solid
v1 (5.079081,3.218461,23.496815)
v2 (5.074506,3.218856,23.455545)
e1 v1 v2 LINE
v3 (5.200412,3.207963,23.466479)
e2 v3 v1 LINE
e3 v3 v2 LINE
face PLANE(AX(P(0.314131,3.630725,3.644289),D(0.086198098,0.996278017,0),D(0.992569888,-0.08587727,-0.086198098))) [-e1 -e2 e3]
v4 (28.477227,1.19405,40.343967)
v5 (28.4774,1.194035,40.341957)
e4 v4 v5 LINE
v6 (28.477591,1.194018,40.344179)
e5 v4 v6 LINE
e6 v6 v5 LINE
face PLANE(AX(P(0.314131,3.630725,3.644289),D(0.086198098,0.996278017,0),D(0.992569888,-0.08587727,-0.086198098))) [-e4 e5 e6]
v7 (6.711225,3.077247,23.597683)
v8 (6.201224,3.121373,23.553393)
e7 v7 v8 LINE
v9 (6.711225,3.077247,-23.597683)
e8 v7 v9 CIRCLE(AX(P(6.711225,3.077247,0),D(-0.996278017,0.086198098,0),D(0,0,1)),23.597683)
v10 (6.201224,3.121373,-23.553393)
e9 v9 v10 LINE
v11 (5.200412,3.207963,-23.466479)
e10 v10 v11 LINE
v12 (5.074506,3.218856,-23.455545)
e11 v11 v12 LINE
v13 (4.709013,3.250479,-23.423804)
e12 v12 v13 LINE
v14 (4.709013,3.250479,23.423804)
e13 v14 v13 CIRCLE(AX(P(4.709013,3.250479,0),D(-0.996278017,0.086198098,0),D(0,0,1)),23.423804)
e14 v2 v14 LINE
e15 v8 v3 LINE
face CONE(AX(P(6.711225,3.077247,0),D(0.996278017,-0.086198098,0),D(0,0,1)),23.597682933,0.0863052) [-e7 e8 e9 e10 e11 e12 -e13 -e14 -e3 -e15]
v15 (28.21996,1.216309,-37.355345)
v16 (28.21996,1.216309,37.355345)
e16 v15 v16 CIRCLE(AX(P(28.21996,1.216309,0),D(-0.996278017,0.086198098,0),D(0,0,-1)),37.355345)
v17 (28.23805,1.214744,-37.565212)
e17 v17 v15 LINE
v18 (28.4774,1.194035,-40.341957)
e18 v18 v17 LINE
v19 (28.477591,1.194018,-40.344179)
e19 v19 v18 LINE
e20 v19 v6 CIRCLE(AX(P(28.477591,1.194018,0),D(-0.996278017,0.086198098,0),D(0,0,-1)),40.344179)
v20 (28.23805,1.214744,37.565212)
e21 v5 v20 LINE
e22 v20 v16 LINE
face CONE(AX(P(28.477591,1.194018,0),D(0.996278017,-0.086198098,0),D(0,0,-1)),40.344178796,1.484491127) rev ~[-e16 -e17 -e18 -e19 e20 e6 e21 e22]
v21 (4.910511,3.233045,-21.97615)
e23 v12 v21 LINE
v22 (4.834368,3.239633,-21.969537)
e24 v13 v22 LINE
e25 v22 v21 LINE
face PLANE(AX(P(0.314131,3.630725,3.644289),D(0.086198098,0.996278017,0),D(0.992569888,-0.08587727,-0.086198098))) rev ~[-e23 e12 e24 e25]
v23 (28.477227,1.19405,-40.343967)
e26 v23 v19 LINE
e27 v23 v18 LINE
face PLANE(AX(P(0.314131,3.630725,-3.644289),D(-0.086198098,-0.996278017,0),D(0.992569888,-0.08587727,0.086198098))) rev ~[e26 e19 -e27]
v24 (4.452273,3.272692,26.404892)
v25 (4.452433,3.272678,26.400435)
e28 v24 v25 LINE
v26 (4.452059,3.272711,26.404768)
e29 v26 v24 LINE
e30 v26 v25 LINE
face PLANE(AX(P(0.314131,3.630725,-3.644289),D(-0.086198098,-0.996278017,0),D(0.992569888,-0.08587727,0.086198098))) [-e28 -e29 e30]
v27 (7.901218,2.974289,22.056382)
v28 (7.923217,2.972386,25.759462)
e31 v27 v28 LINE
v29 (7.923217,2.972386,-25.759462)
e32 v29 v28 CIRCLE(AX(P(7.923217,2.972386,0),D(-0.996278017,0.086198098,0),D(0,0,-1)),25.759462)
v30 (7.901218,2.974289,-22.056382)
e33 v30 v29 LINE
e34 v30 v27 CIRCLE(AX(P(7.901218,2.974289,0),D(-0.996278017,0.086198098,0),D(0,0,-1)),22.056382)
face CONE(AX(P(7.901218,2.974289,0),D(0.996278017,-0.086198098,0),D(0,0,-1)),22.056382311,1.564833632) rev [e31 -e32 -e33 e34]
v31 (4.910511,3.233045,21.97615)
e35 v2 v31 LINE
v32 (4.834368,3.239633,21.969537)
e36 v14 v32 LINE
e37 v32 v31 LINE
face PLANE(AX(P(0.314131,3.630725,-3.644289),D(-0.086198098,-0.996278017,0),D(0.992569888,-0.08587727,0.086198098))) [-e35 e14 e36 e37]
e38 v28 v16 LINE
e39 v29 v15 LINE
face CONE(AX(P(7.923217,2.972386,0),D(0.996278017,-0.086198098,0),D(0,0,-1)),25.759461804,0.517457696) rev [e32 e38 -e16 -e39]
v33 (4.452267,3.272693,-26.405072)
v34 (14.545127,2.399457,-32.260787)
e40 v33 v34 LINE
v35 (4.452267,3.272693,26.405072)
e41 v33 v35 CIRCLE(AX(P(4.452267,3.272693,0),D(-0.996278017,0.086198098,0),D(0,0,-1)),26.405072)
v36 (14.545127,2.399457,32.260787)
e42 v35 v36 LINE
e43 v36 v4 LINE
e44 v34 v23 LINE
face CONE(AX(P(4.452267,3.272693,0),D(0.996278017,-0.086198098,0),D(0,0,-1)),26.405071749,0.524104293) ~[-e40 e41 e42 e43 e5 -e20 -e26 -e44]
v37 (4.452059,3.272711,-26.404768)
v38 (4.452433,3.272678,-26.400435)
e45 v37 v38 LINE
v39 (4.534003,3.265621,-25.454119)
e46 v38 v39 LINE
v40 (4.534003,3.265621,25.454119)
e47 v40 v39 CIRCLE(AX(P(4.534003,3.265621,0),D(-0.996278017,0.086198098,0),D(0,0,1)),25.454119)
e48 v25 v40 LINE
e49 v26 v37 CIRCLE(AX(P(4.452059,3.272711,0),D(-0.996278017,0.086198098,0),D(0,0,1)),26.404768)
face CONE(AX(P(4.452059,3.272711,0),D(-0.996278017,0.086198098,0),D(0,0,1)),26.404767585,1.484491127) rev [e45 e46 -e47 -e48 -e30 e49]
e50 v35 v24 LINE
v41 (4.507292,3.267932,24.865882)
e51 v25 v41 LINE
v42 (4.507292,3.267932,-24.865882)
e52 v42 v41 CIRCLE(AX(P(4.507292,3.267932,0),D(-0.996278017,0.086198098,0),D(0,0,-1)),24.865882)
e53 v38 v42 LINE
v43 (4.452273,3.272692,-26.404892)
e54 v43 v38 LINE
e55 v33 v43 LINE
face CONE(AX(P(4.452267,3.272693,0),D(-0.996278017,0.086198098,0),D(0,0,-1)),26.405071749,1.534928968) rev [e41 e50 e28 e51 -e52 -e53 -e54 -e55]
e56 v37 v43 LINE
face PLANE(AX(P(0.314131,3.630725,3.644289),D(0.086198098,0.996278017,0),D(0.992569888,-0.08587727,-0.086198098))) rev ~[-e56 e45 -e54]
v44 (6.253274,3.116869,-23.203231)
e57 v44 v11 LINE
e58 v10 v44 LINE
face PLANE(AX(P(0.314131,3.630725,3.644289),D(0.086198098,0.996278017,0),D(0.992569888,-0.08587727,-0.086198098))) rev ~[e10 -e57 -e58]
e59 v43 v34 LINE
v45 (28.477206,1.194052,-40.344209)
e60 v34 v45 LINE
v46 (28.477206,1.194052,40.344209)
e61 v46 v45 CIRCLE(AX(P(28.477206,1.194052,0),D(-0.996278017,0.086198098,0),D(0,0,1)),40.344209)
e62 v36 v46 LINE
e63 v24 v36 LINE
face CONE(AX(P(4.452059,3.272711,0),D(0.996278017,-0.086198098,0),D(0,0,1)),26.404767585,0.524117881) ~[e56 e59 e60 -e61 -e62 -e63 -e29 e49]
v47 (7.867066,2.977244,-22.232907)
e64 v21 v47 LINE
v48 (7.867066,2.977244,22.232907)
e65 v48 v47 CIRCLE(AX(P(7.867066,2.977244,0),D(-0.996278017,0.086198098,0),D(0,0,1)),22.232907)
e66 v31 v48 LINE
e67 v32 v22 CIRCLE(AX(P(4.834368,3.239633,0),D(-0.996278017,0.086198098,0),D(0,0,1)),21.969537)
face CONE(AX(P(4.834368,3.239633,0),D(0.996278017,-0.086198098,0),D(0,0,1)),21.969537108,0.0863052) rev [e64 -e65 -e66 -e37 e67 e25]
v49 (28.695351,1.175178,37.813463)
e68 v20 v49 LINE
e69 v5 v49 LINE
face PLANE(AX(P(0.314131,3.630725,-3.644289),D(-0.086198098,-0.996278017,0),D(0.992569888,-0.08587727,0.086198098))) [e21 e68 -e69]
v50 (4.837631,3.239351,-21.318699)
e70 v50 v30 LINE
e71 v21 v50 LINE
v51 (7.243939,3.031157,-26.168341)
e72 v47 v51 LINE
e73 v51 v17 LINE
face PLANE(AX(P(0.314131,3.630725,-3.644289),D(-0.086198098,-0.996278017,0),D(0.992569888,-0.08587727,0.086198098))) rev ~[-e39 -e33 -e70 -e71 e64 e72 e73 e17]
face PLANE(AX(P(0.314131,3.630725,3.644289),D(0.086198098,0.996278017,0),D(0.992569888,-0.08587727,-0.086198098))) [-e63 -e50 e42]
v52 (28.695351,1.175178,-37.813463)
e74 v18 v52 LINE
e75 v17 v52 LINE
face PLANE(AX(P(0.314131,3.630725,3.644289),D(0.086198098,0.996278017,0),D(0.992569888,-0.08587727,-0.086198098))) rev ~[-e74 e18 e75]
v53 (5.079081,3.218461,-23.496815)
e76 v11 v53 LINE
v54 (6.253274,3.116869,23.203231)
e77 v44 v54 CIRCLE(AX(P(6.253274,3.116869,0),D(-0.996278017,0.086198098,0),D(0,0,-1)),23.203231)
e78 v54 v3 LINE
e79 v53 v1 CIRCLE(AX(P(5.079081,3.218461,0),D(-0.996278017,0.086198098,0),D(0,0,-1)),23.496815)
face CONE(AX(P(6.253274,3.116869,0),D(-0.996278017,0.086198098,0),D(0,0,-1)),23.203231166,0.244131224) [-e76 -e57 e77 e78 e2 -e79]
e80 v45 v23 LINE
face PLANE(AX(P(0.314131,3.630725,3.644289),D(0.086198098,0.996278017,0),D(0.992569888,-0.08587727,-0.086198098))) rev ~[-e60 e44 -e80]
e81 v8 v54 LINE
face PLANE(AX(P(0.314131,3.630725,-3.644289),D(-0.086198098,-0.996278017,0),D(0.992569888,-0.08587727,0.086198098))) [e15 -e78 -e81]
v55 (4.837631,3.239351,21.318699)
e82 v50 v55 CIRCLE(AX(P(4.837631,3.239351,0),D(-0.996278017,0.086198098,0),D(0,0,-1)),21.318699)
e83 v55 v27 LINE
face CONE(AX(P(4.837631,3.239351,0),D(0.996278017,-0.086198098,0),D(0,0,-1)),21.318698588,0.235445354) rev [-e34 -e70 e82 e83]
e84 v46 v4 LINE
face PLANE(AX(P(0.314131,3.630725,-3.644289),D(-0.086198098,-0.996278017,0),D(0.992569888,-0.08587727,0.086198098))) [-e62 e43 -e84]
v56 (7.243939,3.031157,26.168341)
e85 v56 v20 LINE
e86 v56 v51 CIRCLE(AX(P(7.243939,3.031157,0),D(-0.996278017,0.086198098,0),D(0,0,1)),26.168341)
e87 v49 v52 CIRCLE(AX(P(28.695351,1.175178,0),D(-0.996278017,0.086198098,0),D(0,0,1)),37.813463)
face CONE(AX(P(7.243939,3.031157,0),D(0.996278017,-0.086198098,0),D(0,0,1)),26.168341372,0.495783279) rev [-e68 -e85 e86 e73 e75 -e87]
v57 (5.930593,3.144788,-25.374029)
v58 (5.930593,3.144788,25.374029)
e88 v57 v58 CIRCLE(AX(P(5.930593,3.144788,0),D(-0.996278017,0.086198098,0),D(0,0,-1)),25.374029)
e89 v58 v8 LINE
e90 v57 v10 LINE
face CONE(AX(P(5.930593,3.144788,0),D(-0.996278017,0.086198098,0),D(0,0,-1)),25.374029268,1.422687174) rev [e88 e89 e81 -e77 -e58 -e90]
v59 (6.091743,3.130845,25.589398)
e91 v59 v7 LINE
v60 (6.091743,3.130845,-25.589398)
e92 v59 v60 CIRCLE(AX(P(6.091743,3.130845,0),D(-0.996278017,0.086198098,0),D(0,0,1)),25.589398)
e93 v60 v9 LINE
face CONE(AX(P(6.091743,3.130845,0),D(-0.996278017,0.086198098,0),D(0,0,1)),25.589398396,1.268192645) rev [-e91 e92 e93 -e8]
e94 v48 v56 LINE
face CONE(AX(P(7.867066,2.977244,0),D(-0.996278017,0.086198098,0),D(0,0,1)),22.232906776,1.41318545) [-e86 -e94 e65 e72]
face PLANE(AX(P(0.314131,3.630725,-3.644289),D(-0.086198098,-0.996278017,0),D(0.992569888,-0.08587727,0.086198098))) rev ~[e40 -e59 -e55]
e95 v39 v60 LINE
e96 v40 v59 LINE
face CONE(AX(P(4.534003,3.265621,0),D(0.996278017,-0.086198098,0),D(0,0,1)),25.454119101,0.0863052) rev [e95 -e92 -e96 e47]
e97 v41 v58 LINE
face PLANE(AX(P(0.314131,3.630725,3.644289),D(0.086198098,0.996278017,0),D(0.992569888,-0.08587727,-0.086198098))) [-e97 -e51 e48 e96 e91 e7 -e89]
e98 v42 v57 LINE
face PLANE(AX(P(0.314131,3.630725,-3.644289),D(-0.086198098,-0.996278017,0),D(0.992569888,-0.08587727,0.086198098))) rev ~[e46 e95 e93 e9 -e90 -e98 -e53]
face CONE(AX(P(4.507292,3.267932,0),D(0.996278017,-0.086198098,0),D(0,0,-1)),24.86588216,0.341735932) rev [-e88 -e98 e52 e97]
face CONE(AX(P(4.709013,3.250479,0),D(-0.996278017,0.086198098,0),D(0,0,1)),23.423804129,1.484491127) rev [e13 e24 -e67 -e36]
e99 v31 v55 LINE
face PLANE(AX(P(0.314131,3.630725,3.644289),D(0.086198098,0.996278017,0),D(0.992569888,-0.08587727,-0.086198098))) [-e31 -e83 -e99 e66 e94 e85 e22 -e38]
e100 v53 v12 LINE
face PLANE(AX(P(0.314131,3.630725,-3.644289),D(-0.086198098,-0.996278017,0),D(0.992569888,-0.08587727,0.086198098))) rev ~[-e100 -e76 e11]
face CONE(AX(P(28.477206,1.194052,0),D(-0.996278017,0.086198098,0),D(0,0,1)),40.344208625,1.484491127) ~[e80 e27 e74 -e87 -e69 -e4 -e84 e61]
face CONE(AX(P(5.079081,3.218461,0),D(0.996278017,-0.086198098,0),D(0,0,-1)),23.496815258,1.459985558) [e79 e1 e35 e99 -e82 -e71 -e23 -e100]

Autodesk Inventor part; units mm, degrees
ref_plane "YZ Plane" through (0, 0, 0) normal (1, 0, 0) x (0, 1, 0)
ref_plane "XZ Plane" through (0, 0, 0) normal (0, 1, 0) x (-1, 0, 0)
ref_plane "XY Plane" through (0, 0, 0) normal (0, 0, 1) x (1, 0, 0)
sketch "Sketch1" plane through (0, 0, 0) normal (1, 0, 0) x (0, 1, 0)
  arc A0 (6, 5) -> (0, 6.4776) centre (1.5083, -0.3184) ccw
  arc A1 (0, 6.4776) -> (-6, 2) centre (-0.0372, 0.2686) ccw
  arc A2 (-6, 2) -> (-5, -3.4628) centre (-1.5043, 0) ccw
  arc A3 (-5, -3.4628) -> (2, -5.5969) centre (1.6627, 5.8444) ccw
  arc A4 (2, -5.5969) -> (6.9353, -3.4628) centre (1.5482, 2.2219) ccw
  arc A5 (6, 5) -> (13, 1) centre (22.0402, 24.9454) ccw
  arc A6 (13, -1) -> (6.9353, -3.4628) centre (16.5953, -18.5517) ccw
  arc A7 (13, -1) -> (13, 1) centre (11.912, 0) ccw
  arc A8 (15.1251, -1.2068) -> (15.1251, 1.1192) centre (13.8597, -0.0438) ccw
  arc A9 (6.9841, 5.7712) -> (15.1251, 1.1192) centre (25.6388, 28.9677) ccw
  arc A10 (6.9841, 5.7712) -> (0.0061, 7.4897) centre (1.7602, -0.414) ccw
  arc A11 (0.0061, 7.4897) -> (-6.9719, 2.2822) centre (-0.0372, 0.2686) ccw
  arc A12 (-6.9719, 2.2822) -> (-5.8089, -4.0711) centre (-1.7435, -0.0438) ccw
  arc A13 (-5.8089, -4.0711) -> (2.3321, -6.5529) centre (1.9397, 6.7532) ccw
  arc A14 (2.3321, -6.5529) -> (8.0718, -4.0711) centre (1.8067, 2.5403) ccw
  arc A15 (15.1251, -1.2068) -> (8.0718, -4.0711) centre (19.3063, -21.6193) ccw
  point P0 (0, 0)
sketch "Sketch2" plane through (0, 0, 0) normal (0, 0, 1) x (1, 0, 0)
  arc A0 (4.5893, 15.6275) -> (5.3653, 12.7341) centre (8.4769, 15.1194) ccw
  arc A1 (7.1334, 6.0475) -> (5.3653, 12.7341) centre (-9.3019, 5.2787) ccw
  arc A2 (4, -1) -> (7.1334, 6.0475) centre (-2.3212, 6.0308) ccw
  arc A3 (4, -1) -> (2.2783, -7.605) centre (15.174, -7.4395) ccw
  arc A4 (4.5893, 15.6275) -> (-5.4042, 15.6275) centre (-0.4074, 13.9881) ccw
  arc A5 (-4.7137, -7.4395) -> (2.2783, -7.605) centre (-1.0169, 0.9638) ccw
  arc A6 (-5.4042, 15.6275) -> (-4.7137, -7.4395) centre (15.8945, 4.7212) ccw
  point P0 (0, 0)
  point P1 (16.0644, 6.0537)
sketch "Sketch3" plane through (0, 0, 0) normal (0, 0, 1) x (1, 0, 0)
  line L0 (8, 6) -> (8, -9.7213)
  line L1 (8, 6) -> (8, 19.0901)
  arc A0 (8, -9.7213) -> (8, 19.0901) centre (-3.1204, 4.6844) ccw
  point P0 (0, 0)
sketch "Sketch4" plane through (0, 0, 0) normal (0, 0, 1) x (1, 0, 0)
  arc A0 (4, -3) -> (3, -7.466) centre (10.199, -6.733) ccw
  arc A1 (4, -3) -> (7.6292, 3.7812) centre (-12.6955, 10.297) ccw
  arc A2 (7.6292, 3.7812) -> (7, 11) centre (-7.2238, 6.1234) ccw
  arc A3 (7, 11) -> (6.1482, 13) centre (-7.2238, 6.1234) ccw
  arc A4 (5.3976, 15.5783) -> (6.1482, 13) centre (8.6756, 15.1342) ccw
  arc A5 (3, -7.466) -> (9, -9) centre (8, -0.4104) ccw
  arc A6 (11, 18) -> (5.3976, 15.5783) centre (10.5, 11.4654) ccw
  arc A7 (9, -9) -> (11, 18) centre (-69.2967, 10.3738) ccw
  point P0 (0, 0)
sketch "Sketch5" plane through (0, 0, 0) normal (1, 0, 0) x (0, 1, 0)
  arc A0 (13, -1.7602) -> (13, 2.0171) centre (12.6189, 0.1284) ccw
  arc A1 (17, 0) -> (13, 2.0171) centre (12.9569, -3.0431) ccw
  arc A2 (13, -1.7602) -> (17, 0) centre (13.7728, 1.9087) ccw
  point P0 (0, 0)
sketch "Sketch7" plane through (0, 0, 0) normal (1, 0, 0) x (0, 1, 0)
  circle A0 centre (5, 0.3375) radius 25
  point P0 (0, 0)
  dimension "d10" = 50
sketch "Sketch8" plane through (0, 0, 0) normal (0, 0, 1) x (1, 0, 0)
  arc A0 (4.5893, 15.6275) -> (5.3653, 12.7341) centre (8.4769, 15.1194) ccw
  arc A1 (7.1334, 6.0475) -> (5.3653, 12.7341) centre (-9.3019, 5.2787) ccw
  arc A2 (4, -1) -> (7.1334, 6.0475) centre (-2.3212, 6.0308) ccw
  arc A3 (4, -1) -> (2.2783, -7.605) centre (15.174, -7.4395) ccw
  arc A4 (4.5893, 15.6275) -> (-5.4042, 15.6275) centre (-0.4074, 13.9881) ccw
  arc A5 (-4.7137, -7.4395) -> (2.2783, -7.605) centre (-1.0169, 0.9638) ccw
  arc A6 (-5.4042, 15.6275) -> (-4.7137, -7.4395) centre (15.8945, 4.7212) ccw
  point P0 (0, 0)
sketch "Sketch9" plane through (0, 0, 0) normal (0, 0, 1) x (1, 0, 0)
  line L0 (2.2936, -15.8564) -> (2.2936, -6.8564)
  arc A0 (2.2936, -6.8564) -> (-3.9962, -9.9765) centre (0.2723, -10.6815) ccw
  arc A1 (-4, -16) -> (2.2936, -15.8564) centre (-0.9465, -11.8394) ccw
  arc A2 (-3.9962, -9.9765) -> (-4, -16) centre (14.3076, -12.9998) ccw
  point P0 (0, 0)
sketch "Sketch10" plane through (0, 0, 0) normal (1, 0, 0) x (0, 1, 0)
  arc A0 (13, -1) -> (13, 1) centre (11.912, 0) ccw
  arc A1 (6, 5) -> (13, 1) centre (22.0402, 24.9454) ccw
  arc A2 (6, 5) -> (0, 6.4776) centre (1.5083, -0.3184) ccw
  arc A3 (0, 6.4776) -> (-6, 2) centre (-0.0372, 0.2686) ccw
  arc A4 (-6, 2) -> (-5, -3.4628) centre (-1.5043, 0) ccw
  arc A5 (-5, -3.4628) -> (2, -5.5969) centre (1.6627, 5.8444) ccw
  arc A6 (2, -5.5969) -> (6.9353, -3.4628) centre (1.5482, 2.2219) ccw
  arc A7 (13, -1) -> (6.9353, -3.4628) centre (16.5953, -18.5517) ccw
  point P0 (0, 0)
sketch "Sketch11" plane through (0, 0, 0) normal (0, 0, 1) x (1, 0, 0)
  arc A0 (4, -3) -> (3, -7.466) centre (10.199, -6.733) ccw
  arc A1 (4, -3) -> (7.6292, 3.7812) centre (-12.6955, 10.297) ccw
  arc A2 (7.6292, 3.7812) -> (7, 11) centre (-7.2238, 6.1234) ccw
  arc A3 (7, 11) -> (6.1482, 13) centre (-7.2238, 6.1234) ccw
  arc A4 (5.3976, 15.5783) -> (6.1482, 13) centre (8.6756, 15.1342) ccw
  arc A5 (11, -15) -> (11, 18) centre (-58.5, 1.5) ccw
  arc A6 (3, -7.466) -> (3.1376, -15) centre (85.1776, -9.733) ccw
  arc A7 (6, 24) -> (5.3976, 15.5783) centre (36.0186, 17.6203) ccw
  arc A8 (11, 18) -> (6, 24) centre (2.7033, 16.1694) ccw
  arc A9 (3.1376, -15) -> (11, -15) centre (7.0688, -10.5838) ccw
  arc A10 (5, 24) -> (4.5969, 15.5783) centre (45.756, 17.829) ccw
  arc A11 (-2, 19) -> (4.5969, 15.5783) centre (5.6189, 25.6189) ccw
  arc A12 (5, 24) -> (-2, 19) centre (11.5, 7.5) ccw
  point P0 (0, 0)
sketch "Sketch12" plane through (0, 0, 0) normal (1, 0, 0) x (0, 1, 0)
  circle A0 centre (3, 0.2318) radius 20
  circle A1 centre (3, 0.2318) radius 19
  point P0 (0, 0)
  dimension "d21" = 40
  dimension "d22" = 38
sketch "Sketch13" plane through (0, 0, 0) normal (0, 0, 1) x (1, 0, 0)
  arc A0 (4.6444, -3) -> (3.6444, -7.466) centre (10.8434, -6.733) ccw
  arc A1 (4.6444, -3) -> (8.2736, 3.7812) centre (-12.0511, 10.297) ccw
  arc A2 (8.2736, 3.7812) -> (7.6444, 11) centre (-6.5793, 6.1234) ccw
  arc A3 (7.6444, 11) -> (6.7926, 13) centre (-6.5793, 6.1234) ccw
  arc A4 (6.042, 15.5783) -> (6.7926, 13) centre (9.3201, 15.1342) ccw
  arc A5 (12.1446, -13.3563) -> (11.6094, 18.8213) centre (-67.1488, 1.418) ccw
  arc A6 (4.5893, 15.6275) -> (5.3653, 12.7341) centre (8.4769, 15.1194) ccw
  arc A7 (7.1334, 6.0475) -> (5.3653, 12.7341) centre (-9.3019, 5.2787) ccw
  arc A8 (4, -1) -> (7.1334, 6.0475) centre (-2.3212, 6.0308) ccw
  arc A9 (4, -1) -> (2.2783, -7.605) centre (15.174, -7.4395) ccw
  arc A10 (-5.4042, 15.6275) -> (-4.7137, -7.4395) centre (15.8945, 4.7212) ccw
  arc A11 (3.6444, -7.466) -> (4.6444, -19) centre (48.1921, -9.4141) ccw
  arc A12 (1, -17) -> (2.2783, -7.605) centre (-20.1318, -9.3402) ccw
  arc A13 (4.5893, 15.6275) -> (4, 28) centre (-90.183, 17.3138) ccw
  arc A14 (6.0097, 28) -> (6.042, 15.5783) centre (472.3708, 23) ccw
  arc A15 (4.6444, -19) -> (12.1446, -13.3563) centre (5.8088, -12.7419) ccw
  arc A16 (11.6094, 18.8213) -> (6.0097, 28) centre (-7.4499, 13.4913) ccw
  arc A17 (-4.7137, -7.4395) -> (1, -17) centre (32.2099, 8.14) ccw
  arc A18 (4, 28) -> (-5.4042, 15.6275) centre (39.2165, -8.5279) ccw
  point P0 (0, 0)
sketch "Sketch16" plane through (0, 0, 0) normal (0, 0, 1) x (1, 0, 0)
  arc A0 (7.7852, 10.9763) -> (6.9451, 12.9812) centre (-6.467, 6.1832) ccw
  arc A1 (8.372, 3.7539) -> (7.7852, 10.9763) centre (-6.467, 6.1832) ccw
  arc A2 (4.7031, -3.0059) -> (8.372, 3.7539) centre (-11.9141, 10.3888) ccw
  arc A3 (4.7031, -3.0059) -> (3.6769, -7.4659) centre (10.88, -6.7752) ccw
  arc A4 (6.2096, 15.5639) -> (6.9451, 12.9812) centre (9.485, 15.1006) ccw
  line L0 (3.6769, -7.4659) -> (3.6769, -13)
  line L1 (3.6769, -13) -> (8.7312, -13)
  line L2 (7.1813, -23) -> (8.45, -23) projected
  line L3 (6.2096, 15.5639) -> (6.0634, 19)
  line L4 (6.0634, 19) -> (8.7312, 19)
  line L5 (8.7312, 19) -> (8.7312, -13)
  point P0 (0, 0)
sketch "Sketch18" plane through (0, 0, 0) normal (0, 1, 0) x (-1, 0, 0)
  arc A0 (0, 16) -> (0, -16) centre (63, 0) ccw
  arc A1 (0, -16) -> (0, 16) centre (-1, 0) ccw
  point P0 (0, 0)
sketch "Sketch19" plane through (0, 0, 0) normal (0, 0, 1) x (1, 0, 0)
  arc A0 (0, -13) -> (0, 21.2939) centre (-44.6367, 4.1469) ccw
  arc A1 (0, 21.2939) -> (0, -13) centre (9.2646, 4.1469) ccw
  point P0 (0, 0)
sketch "Sketch20" plane through (0, 0, 0) normal (0, 1, 0) x (-1, 0, 0)
  arc A0 (0, 18) -> (0, -21) centre (116.9496, -1.5) ccw
  arc A1 (0, -21) -> (0, 18) centre (-188.5, -1.5) ccw
  point P0 (0, 0)
sketch "Sketch21" plane through (0, 0, 0) normal (0, 0, 1) x (1, 0, 0)
  arc A0 (4.5893, 15.6275) -> (5.3653, 12.7341) centre (8.4769, 15.1194) ccw
  arc A1 (7.1334, 6.0475) -> (5.3653, 12.7341) centre (-9.3019, 5.2787) ccw
  arc A2 (4, -1) -> (7.1334, 6.0475) centre (-2.3212, 6.0308) ccw
  arc A3 (4, -1) -> (2.2783, -7.605) centre (15.174, -7.4395) ccw
  arc A4 (-5.4042, 15.6275) -> (-4.7137, -7.4395) centre (15.8945, 4.7212) ccw
  arc A5 (1.6146, -47) -> (2.2783, -7.605) centre (-871.3055, -12.5889) ccw
  arc A6 (-4.7137, -7.4395) -> (1.6146, -47) centre (3.6662, -26.3854) ccw
  arc A7 (6.6047, 48.2766) -> (4.5893, 15.6275) centre (207.8183, 19.4692) ccw
  arc A8 (6.6047, 48.2766) -> (-5.4042, 15.6275) centre (18.1068, 25.5128) ccw
  point P0 (4.9602, 0)
sketch "Sketch22" plane through (0, 0, 0) normal (1, 0, 0) x (0, 1, 0)
  arc A0 (12.671, -1.508) -> (10.1452, -2.4415) centre (13.2273, -6.897) ccw
  arc A1 (5.972, -5.9193) -> (10.1452, -2.4415) centre (1.4729, 3.7221) ccw
  arc A2 (-1.0034, -7.134) -> (5.972, -5.9193) centre (0.0411, 7.5036) ccw
  arc A3 (-6.1623, -3.0965) -> (-1.0034, -7.134) centre (-0.5861, -1.2862) ccw
  arc A4 (-5.468, 3.7221) -> (-6.1623, -3.0965) centre (0.6002, -0.3405) ccw
  arc A5 (6.5632, 5.6579) -> (-0.5861, 6.5886) centre (1.6095, -4.4698) ccw
  arc A6 (-0.5861, 6.5886) -> (-5.468, 3.7221) centre (0, 0) ccw
  arc A7 (6.5632, 5.6579) -> (11.3492, 2.8919) centre (22.0985, 27.015) ccw
  arc A8 (14.2401, 1.3463) -> (11.3492, 2.8919) centre (11.1023, -1.0462) ccw
  arc A9 (13.4173, -1.2862) -> (14.2401, 1.3463) centre (12.4465, 0.462) ccw
  arc A10 (12.671, -1.508) -> (13.4173, -1.2862) centre (12.7302, -0.341) ccw
  point P0 (0, 0)
  point P1 (20.1069, -9.3097)
sketch "Sketch23" plane through (0, 0, 0) normal (0, 0, 1) x (1, 0, 0)
  arc A0 (4, -3) -> (3, -7.466) centre (10.199, -6.733) ccw
  arc A1 (4, -3) -> (7.6292, 3.7812) centre (-12.6955, 10.297) ccw
  arc A2 (7.6292, 3.7812) -> (7, 11) centre (-7.2238, 6.1234) ccw
  arc A3 (7, 11) -> (6.1482, 13) centre (-7.2238, 6.1234) ccw
  arc A4 (5.3976, 15.5783) -> (6.1482, 13) centre (8.6756, 15.1342) ccw
  arc A5 (3, -7.466) -> (12.0039, -34.009) centre (74.5087, 1.9925) ccw
  arc A6 (12.0039, -34.009) -> (12.0039, 40.009) centre (-50.8687, 3) ccw
  arc A7 (12.0039, 40.009) -> (5.3976, 15.5783) centre (75.5489, 9.7171) ccw
  point P0 (0, 0)
sketch "Sketch24" plane through (0, 0, 0) normal (1, 0, 0) x (0, 1, 0)
  circle A0 centre (4, 0) radius 24.0208
  circle A1 centre (4, 0) radius 54.037
  point P0 (0, 0)
sketch "Sketch25" plane through (0, 0, 0) normal (0, 0, 1) x (1, 0, 0)
  line L0 (2.9628, -6.7024) -> (3, -28)
  arc A0 (7, 36) -> (4.5756, 19.3965) centre (118.9772, 11.1705) ccw
  arc A1 (5.9839, 23.9235) -> (5.3976, 15.5783) centre (44.4323, 17.0293) ccw
  arc A2 (5.9839, 23.9235) -> (7, 33) centre (-89.9402, 39.2578) ccw
  arc A3 (5.3976, 15.5783) -> (7, 33) centre (-0.8843, 24.9407) ccw
  arc A4 (7, 36) -> (4.5756, 19.3965) centre (13.0884, 26.6322) ccw
  arc A5 (3, -28) -> (2.9628, -6.7024) centre (-3.3961, -17.3623) ccw
  point P0 (0, 0)
sketch "Sketch31" plane through (0, 0, 0) normal (1, 0, 0) x (0, 1, 0)
  circle A0 centre (4.1775, 0) radius 24.15
  circle A1 centre (4.1775, 0) radius 23
  point P0 (0, 0)
  dimension "d65" = 46
  dimension "d66" = 48.3
sketch "Sketch32" plane through (0, 0, 0) normal (0, 0, 1) x (1, 0, 0)
  arc A0 (4, -1) -> (2.2783, -7.605) centre (15.174, -7.4395) ccw
  arc A1 (4, -1) -> (7.1334, 6.0475) centre (-2.3212, 6.0308) ccw
  arc A2 (7.1334, 6.0475) -> (5.3653, 12.7341) centre (-9.3019, 5.2787) ccw
  arc A3 (4.5893, 15.6275) -> (5.3653, 12.7341) centre (8.4769, 15.1194) ccw
  arc A4 (-5.4042, 15.6275) -> (-4.7137, -7.4395) centre (15.8945, 4.7212) ccw
  arc A5 (1.6146, -47) -> (2.2783, -7.605) centre (-871.3055, -12.5889) ccw
  arc A6 (-4.7137, -7.4395) -> (1.6146, -47) centre (3.6662, -26.3854) ccw
  arc A7 (6.6047, 48.2766) -> (4.5893, 15.6275) centre (207.8183, 19.4692) ccw
  arc A8 (6.6047, 48.2766) -> (-5.4042, 15.6275) centre (18.1068, 25.5128) ccw
  point P0 (0, 0)
sketch "Sketch34" plane through (0, 0, 0) normal (0, 0, 1) x (1, 0, 0)
  arc A0 (5, -4) -> (9, 6) centre (-7, 6.6) ccw
  arc A1 (5, -4) -> (4, -8) centre (10.5, -7.5) ccw
  arc A2 (4, -19.9725) -> (4, -8) centre (-95.2669, -13.9862) ccw
  arc A3 (9, 6) -> (6.6308, 15) centre (-16.4523, 4.1118) ccw
  line L0 (6.6308, 15) -> (6.6308, 28.2457)
  arc A4 (4, -19.9725) -> (6.6308, 28.2457) centre (64.4177, 0.9119) ccw
  point P0 (0, 0)
sketch "Sketch35" plane through (0, 0, 0) normal (0, 0, 1) x (1, 0, 0)
  arc A0 (12, -8) -> (-7, -11) centre (15.0455, -88.9545) ccw
  arc A1 (-7, -11) -> (12, -8) centre (3.194, -13.8955) ccw
  point P0 (0, 0)
ref_plane "Work Plane16" through (6.6308, 4.1775, 0) normal (1, 0, 0) x (0, 0, -1)
sketch "Sketch36" plane through (6.6308, 4.1775, 0) normal (1, 0, 0) x (0, 0, -1)
  arc A0 (21.5893, 10.8225) -> (-21.5893, 10.8225) centre (0, -0.149) ccw
  arc A1 (20.2947, 10.8225) -> (-20.2947, 10.8225) centre (0, 0) ccw
  line L0 (-21.5893, 10.8225) -> (-20.2947, 10.8225)
  line L1 (-21.5893, 10.8225) -> (-20.2947, 10.8225)
  line L2 (20.2947, 10.8225) -> (21.5893, 10.8225)
  point P0 (0, -4.1775)
sketch "Sketch37" plane through (0, 0, 0) normal (1, 0, 0) x (0, 1, 0)
  arc A0 (15, 20.2947) -> (6, 22.9277) centre (4.1775, 0) ccw
  arc A1 (15, 21.5893) -> (6, 24.0811) centre (4.9955, 2.9543) ccw
  line L0 (15, 21.5893) -> (15, 20.2947)
  line L1 (15, 21.5893) -> (15, 20.2947)
  line L2 (6, 22.9277) -> (6, 24.0811)
  line L3 (6, 24.0811) -> (6, 22.9277)
  line L4 (15, -20.2947) -> (15, -21.5893) projected
  line L5 (15, -21.5351) -> (15, -20.2947)
  arc A2 (6, -24.0811) -> (15, -21.5893) centre (4.3914, -0.7727) ccw
  arc A3 (6, -22.9277) -> (15, -20.2947) centre (4.1775, 0) ccw
  line L6 (6, -24.0811) -> (6, -22.9277) projected
  line L7 (6, -24.0811) -> (6, -22.9277)
  point P0 (0, 0)
sketch "Sketch38" plane through (0, 0, 0) normal (0, 0, 1) x (1, 0, 0)
  arc A0 (7.1334, 6) -> (5.3972, 12.671) centre (-9.2641, 5.2939) ccw
  arc A1 (4.5581, 15) -> (5.3972, 12.671) centre (8.676, 15.1681) ccw
  line L0 (0, 15) -> (4.5581, 15) projected
  line L1 (0, 6) -> (7.1334, 6) projected
  arc A2 (4.5581, 15) -> (7.1334, 6) centre (1.4649, 9.2464) ccw
  point P0 (0, 0)
  point P1 (6.4152, 10.1452)
  point P2 (4.945, 13.4173)
sketch "Sketch39" plane through (0, 0, 0) normal (0, 0, 1) x (1, 0, 0)
  arc A0 (9, 6) -> (11.63, 15) centre (12.0023, 10.0069) ccw
  arc A1 (9, 6) -> (11.63, 15) centre (-3.4729, 14.5291) ccw
  point P0 (0, 0)
sketch "Sketch40" plane through (0, 0, 0) normal (0, 0, 1) x (1, 0, 0)
  arc A0 (1, -11) -> (5, -7) centre (4.0607, -10.0607) ccw
  arc A1 (5, -7) -> (1, -11) centre (6.5, -12.5) ccw
  point P0 (0, 0)
  point P1 (2.963, -6.7889)
sketch "Sketch41" plane through (0, 0, 0) normal (0, 0, 1) x (1, 0, 0)
  line L0 (26.7844, 11.2115) -> (14, 17)
  line L1 (14, 17) -> (1.6259, -10.3292)
  line L2 (1.6259, -10.3292) -> (14.4104, -16.1177)
  line L3 (14.4104, -16.1177) -> (26.7844, 11.2115)
  point P0 (0, 0)
  dimension "d87" = 30
ref_plane "Work Plane13" through (2.4677, -8.47, 20.5733) normal (0.911, -0.4125, 0) x (0, 0, -1)
sketch "Sketch43" plane through (2.4677, -8.47, 20.5733) normal (0.911, -0.4125, 0) x (0, 0, -1)
  line L0 (-2.3543, 15.8761) -> (-3.5078, 15.8761)
  line L1 (-3.5078, 15.8761) -> (-2.3543, 15.8761)
  arc A0 (-3.5078, 15.8761) -> (0.1198, -0.2516) centre (25.1927, 13.8599) ccw
  line L2 (1.4913, -0.2516) -> (0.1198, -0.2516)
  line L3 (0.1198, -0.2516) -> (1.4913, -0.2516)
  line L4 (-1.278, 5.6151) -> (14.6782, 5.6151) projected
  arc A1 (-2.3543, 15.8761) -> (1.4913, -0.2516) centre (22.6187, 13.3086) ccw
  point P0 (20.5733, 6.6981)
  point P1 (1.4551, -0.1819)
ref_plane "Work Plane14" through (2.964, -7.3739, 19.8888) normal (0.911, -0.4125, 0) x (0, 0, -1)
sketch "Sketch45" plane through (2.964, -7.3739, 19.8888) normal (0.911, -0.4125, 0) x (0, 0, -1)
  line L0 (43.9735, 14.6294) -> (42.8127, 14.6294)
  line L1 (42.8202, 14.6294) -> (43.9735, 14.6294) projected
  arc A0 (40.3423, -1.4549) -> (43.9735, 14.6294) centre (15.2518, 12.6615) ccw
  arc A1 (39, -1.4549) -> (42.8202, 14.6294) centre (15.5968, 12.5994) ccw
  line L2 (40.3423, -1.4549) -> (38.9708, -1.4549)
  line L3 (38.9708, -1.4549) -> (40.3423, -1.4549)
  point P0 (19.8888, 5.4949)
sketch "Sketch46" plane through (0, 0, 0) normal (0, 0, 1) x (1, 0, 0)
  arc A0 (8.9982, -11.6413) -> (8.9982, 28.2457) centre (46.0154, 8.3022) ccw
  line L0 (8.9982, 28.2457) -> (8.9982, -11.6413)
  point P0 (0, 0)
sketch "Sketch47" plane through (0, 0, 0) normal (0, 0, 1) x (1, 0, 0)
  line L0 (13.5135, 0) -> (-7.3337, 0)
  line L1 (2.3639, -20.2737) -> (9.0424, -23.2975) construction
  line L2 (2.3639, -20.2737) -> (9.0424, -23.2975)
  line L3 (9.0424, -23.2975) -> (9.0424, -24.2545)
  line L4 (9.0424, -24.2545) -> (2.3639, -21.2074)
  line L5 (2.3639, -21.2074) -> (2.3639, -20.2737)
  point P0 (0, 0)
sketch "Sketch48" plane through (0, 0, 0) normal (1, 0, 0) x (0, 1, 0)
  line L0 (-7.605, -19.7528) -> (-7.605, 19.6257)
  arc A0 (-7.605, 19.6257) -> (-7.605, -19.7528) centre (1.069, -0.0635) ccw
  point P0 (0, 0)
sketch "Sketch49" plane through (0, 0, 0) normal (0, 0, 1) x (1, 0, 0)
  line L0 (2.2936, -7.605) -> (2.2936, -6.8564) projected
  line L1 (2.2936, -6.8564) -> (2.2936, -25.2348)
  arc A0 (2.2936, -6.8564) -> (2.2936, -25.2348) centre (2.131, -16.0456) ccw
  point P0 (0, 0)
sketch "Sketch50" plane through (0, 0, 0) normal (0, 0, 1) x (1, 0, 0)
  arc A0 (3.3209, -23.1081) -> (8.9982, 5.953) centre (-195.8612, 30.8887) ccw
  arc A1 (3.3209, -23.1081) -> (3, 48) centre (19.245, 12.5186) ccw
  arc A2 (3, 48) -> (8, 28.2457) centre (151.9378, 75.1876) ccw
  line L0 (8.9982, -11.6413) -> (8.9982, 5.953) projected
  arc A3 (8.9982, 5.953) -> (8, 28.2457) centre (-139.412, 10.4765) ccw
  point P0 (0, 0)
  point P1 (8.9982, 6)
sketch "Sketch52" plane through (0, 0, 0) normal (1, 0, 0) x (0, 1, 0)
  line L0 (32, 0) -> (-26, 0)
  arc A0 (32, 0) -> (-26, 0) centre (3, 2.0806) ccw
  point P0 (0, 0)
sketch "Sketch53" plane through (0, 0, 0) normal (1, 0, 0) x (0, 1, 0)
  arc A0 (13, -1.4779) -> (13, 1.4779) centre (12.9444, 0) ccw
  arc A1 (13, 1.4779) -> (13, -1.4779) centre (15.3831, 0) ccw
  point P0 (0, 0)
sketch "Sketch55" plane through (0, 0, 0) normal (0, 0, 1) x (1, 0, 0)
  arc A0 (4.58, 19.7001) -> (6, 11) centre (32.9729, 19.8682) ccw
  arc A1 (4.58, 19.7001) -> (6, 11) centre (11.8372, 16.4186) ccw
  point P0 (0, 0)
ref_plane "Work Plane5" through (0, 0, 15) normal (0, 0, 1) x (1, 0, 0)
sketch "Sketch56" plane through (0, 0, 15) normal (0, 0, 1) x (1, 0, 0)
  arc A0 (6.4152, 10.1452) -> (4, 25) centre (-21.1275, 13.2908) ccw
  arc A1 (4, 25) -> (6.4152, 10.1452) centre (20.5376, 20.0651) ccw
  point P0 (0, 0)
ref_plane "Work Plane3" through (0, 0, 0) normal (0, 0, 1) x (1, 0, 0)
ref_plane "Work Plane6" through (0, 0, -15) normal (0, 0, 1) x (1, 0, 0)
sketch "Sketch57" plane through (0, 0, -15) normal (0, 0, 1) x (1, 0, 0)
  arc A0 (5.512, 20.9612) -> (4.7992, 23.1043) centre (-21.1275, 13.2908) ccw projected
  arc A1 (6.4152, 10.1452) -> (4.7992, 23.1043) centre (-21.1275, 13.2908) ccw
  arc A2 (4.7992, 23.1043) -> (6.4152, 10.1452) centre (4.6042, 16.4997) ccw
  point P0 (0, 0)
ref_plane "Work Plane7" through (0, 0, -15) normal (0, 0, 1) x (1, 0, 0)
sketch "Sketch58" plane through (0, 0, -15) normal (0, 0, 1) x (1, 0, 0)
  arc A0 (4.5821, 19.4868) -> (4.7951, 33.432) centre (-39.5171, 27.1347) ccw
  arc A1 (4.5821, 19.4868) -> (5.6499, 12.1459) centre (32.9729, 19.8682) ccw
  arc A2 (4.7951, 33.432) -> (5.6499, 12.1459) centre (19.8894, 23.3779) ccw
  point P0 (0, 0)
ref_plane "Work Plane8" through (0, 0, -15) normal (0, 0, 1) x (1, 0, 0)
sketch "Sketch59" plane through (0, 0, -15) normal (0, 0, 1) x (1, 0, 0)
  arc A0 (4.5821, 19.4868) -> (4.7951, 33.432) centre (-39.5171, 27.1347) ccw
  arc A1 (4.5821, 19.4868) -> (5.6499, 12.1459) centre (32.9729, 19.8682) ccw
  arc A2 (4.7951, 33.432) -> (5.6499, 12.1459) centre (19.8894, 23.3779) ccw
  point P0 (0, 0)
sketch "Sketch60" plane through (0, 0, 0) normal (1, 0, 0) x (0, 1, 0)
  line L0 (12.1111, 15) -> (12.1111, 21.5884)
  line L1 (12.1111, 21.5884) -> (12.1111, 15)
  line L2 (20.9612, 15.726) -> (20.9612, 15) projected
  line L3 (20.9612, 15) -> (20.9612, 15.726)
  arc A0 (20.9612, 15.726) -> (12.1111, 21.5884) centre (4.1775, 0) ccw
  line L4 (12.1111, -21.5884) -> (12.1111, -15)
  line L5 (12.1459, -15) -> (12.1111, -21.5884)
  line L6 (20.9612, -15) -> (20.9612, -15.726) projected
  line L7 (20.9612, -15) -> (20.9612, -15.726)
  arc A1 (12.1111, -21.5884) -> (20.9612, -15.726) centre (4.1775, 0) ccw
  line L8 (12.1111, 15) -> (12.1111, 21.5884) projected
  line L9 (22.5441, 15) -> (20.9612, 15) projected
  arc A2 (12.1111, 15) -> (20.9612, 15) centre (16.5362, 45.9173) ccw
  arc A3 (20.9612, -15) -> (12.1111, -15) centre (16.5362, -33.5759) ccw
  point P0 (0, 0)
ref_plane "Work Plane9" through (0, 0, -15) normal (0, 0, 1) x (1, 0, 0)
sketch "Sketch61" plane through (0, 0, -15) normal (0, 0, 1) x (1, 0, 0)
  line L0 (5.6658, 12.1111) -> (6.5691, 12.1111) projected
  line L1 (6.5691, 12.1111) -> (-0.1843, 12.1111)
  line L2 (5.512, 20.9612) -> (-0.1843, 20.9612)
  line L3 (0, 20.9612) -> (4.8126, 20.9612) projected
  arc A0 (-0.1843, 20.9612) -> (-0.1843, 12.1111) centre (11.2781, 16.5362) ccw
  line L4 (6.5691, 12.1111) -> (6.63, 12.1111) projected
  arc A1 (6.5691, 12.1111) -> (5.512, 20.9612) centre (-21.1275, 13.2908) ccw
  point P0 (0, 0)
ref_plane "Work Plane10" through (0, 0, -15) normal (0, 0, 1) x (1, 0, 0)
sketch "Sketch62" plane through (0, 0, -15) normal (0, 0, 1) x (1, 0, 0)
  line L0 (6.5691, 12.1111) -> (-0.1843, 12.1111)
  line L1 (5.512, 20.9612) -> (-0.1843, 20.9612)
  arc A0 (-0.1843, 20.9612) -> (-0.1843, 12.1111) centre (11.2781, 16.5362) ccw
  line L2 (4.8126, 20.9612) -> (5.512, 20.9612) projected
  arc A1 (5.512, 20.9612) -> (5.3976, 15.5783) centre (27.7821, 17.7954) ccw
  arc A2 (5.3976, 15.5783) -> (6.1482, 13) centre (8.4638, 15.0726) ccw
  line L3 (6.1482, 13) -> (6.5691, 12.1111)
  point P0 (0, 0)
  point P1 (0, 20.9612)
ref_plane "Work Plane12" through (0, 0, 15) normal (0, 0, 1) x (1, 0, 0)
sketch "Sketch65" plane through (0, 0, 15) normal (0, 0, 1) x (1, 0, 0)
  line L0 (0, 12.1111) -> (0, 20.9612)
  line L1 (0, 20.9612) -> (0, 12.1111)
  line L2 (0, 12.1111) -> (5.6659, 12.1111)
  line L3 (0, 12.1111) -> (0, 20.9612) projected
  line L4 (0, 20.9612) -> (4.8105, 20.9612)
  line L5 (0, 20.9612) -> (5.512, 20.9612) projected
  arc A0 (4.8126, 20.9612) -> (4.8105, 16.2544) centre (16.6683, 18.6025) ccw
  arc A1 (4.8105, 16.2544) -> (5.6659, 12.1111) centre (31.8657, 19.6806) ccw
  point P0 (0, 0)
ref_plane "Work Plane11" through (0, 0, 15) normal (0, 0, 1) x (1, 0, 0)
sketch "Sketch67" plane through (0, 0, 15) normal (0, 0, 1) x (1, 0, 0)
  line L0 (0, 12.1111) -> (5.6658, 12.1111)
  line L1 (6.5691, 12.1111) -> (0, 12.1111)
  line L2 (0, 12.1111) -> (0, 20.9612) projected
  line L3 (0, 12.1111) -> (0, 20.9612)
  line L4 (5.512, 20.9612) -> (0, 20.9612)
  arc A0 (5.512, 20.9612) -> (5.3976, 15.5783) centre (27.7821, 17.7954) ccw
  line L5 (6.5691, 12.1111) -> (6.1482, 13)
  arc A1 (5.3976, 15.5783) -> (6.1482, 13) centre (8.4638, 15.0726) ccw
  point P0 (0, 0)
ref_plane "Work Plane15" through (6.63, 0, 0) normal (1, 0, 0) x (0, 0, -1)
sketch "Sketch68" plane through (6.63, 0, 0) normal (1, 0, 0) x (0, 0, -1)
  arc A0 (14, 22) -> (14, 11) centre (62.4766, 16.5) ccw
  arc A1 (14, 11) -> (14, 22) centre (11.848, 16.5) ccw
  arc A2 (14, 10) -> (21.6289, 12) centre (11.8491, 33.7543) ccw
  arc A3 (13, 15) -> (14, 10) centre (21, 14) ccw
  arc A4 (21.6289, 12) -> (13, 15) centre (14.4695, 5.3172) ccw
  arc A5 (-21.5884, 12.1111) -> (-13.1641, 12.1459) centre (-17.4061, 19.3527) ccw
  arc A6 (-13.1641, 12.1459) -> (-21.5884, 12.1111) centre (-17.3607, 8.3588) ccw
  arc A7 (-14.3886, 22) -> (-14.4349, 10.6825) centre (-5.1535, 16.3034) ccw
  arc A8 (-14.4349, 10.6825) -> (-14.3886, 22) centre (-35.9078, 16.429) ccw
  point P0 (0, 0)
sketch "Sketch69" plane through (0, 0, 0) normal (1, 0, 0) x (0, 1, 0)
  arc A0 (-3, -7.5651) -> (11.0179, -2.9788) centre (0.2424, 6.2404) ccw
  line L0 (-3, -7.5651) -> (-3, -6.6289)
  line L1 (11.0179, -2.9788) -> (11.0179, -1.943)
  arc A1 (11.0179, -1.943) -> (10.1452, -2.6581) centre (12.4245, -4.5498) ccw
  arc A2 (-3, -6.6289) -> (10.1452, -2.6581) centre (0.5731, 5.2863) ccw
  line L2 (-8.9035, 0) -> (17, 0) construction
  arc A3 (11.0179, 2.9788) -> (-3, 7.5651) centre (0.2424, -6.2404) ccw
  line L3 (-3, 7.5651) -> (-3, 6.6289)
  line L4 (11.0179, 2.9788) -> (11.0179, 1.943)
  arc A4 (10.1452, 2.6581) -> (11.0179, 1.943) centre (12.4245, 4.5498) ccw
  arc A5 (10.1452, 2.6581) -> (-3, 6.6289) centre (0.5731, -5.2863) ccw
  point P0 (0, 0)
  point P1 (6.0475, -5.8837)
sketch "Sketch70" plane through (0, 0, 0) normal (0, 0, 1) x (1, 0, 0)
  arc A0 (4, -3) -> (7.812, 5.972) centre (-6.9875, 6.9641) ccw
  arc A1 (4, -3) -> (8, -3) centre (6, 0.2231) ccw
  arc A2 (8, -3) -> (7.812, 5.972) centre (-95.4852, -0.6804) ccw
  arc A3 (7.8, 6.0475) -> (6.9938, 11.0179) centre (-4.9894, 6.5238) ccw
  arc A4 (7.8, 6.0475) -> (6.9938, 11.0179) centre (7.8859, 8.612) ccw
  arc A5 (3.0655, -3) -> (5.6658, 12.1111) centre (-16.4907, 8.1445) ccw
  line L0 (3.0655, -3) -> (4, -3) projected
  arc A6 (5.6658, 12.1111) -> (3.0655, -3) centre (0.9123, 5.1498) ccw
sketch "Sketch71" plane through (0, 0, 0) normal (0, 0, 1) x (1, 0, 0)
  line L0 (21.3234, 1.813) -> (-3.8328, 3.9894)
  line L1 (6.7281, 29.5792) -> (31.9548, 41.3881)
  line L2 (2.1762, -23.0341) -> (25, -39)
  line L3 (2.1762, -23.0341) -> (2.3639, -21.5054)
  line L4 (2.3639, -21.5054) -> (3.7434, -22.1348)
  line L5 (3.7434, -22.1348) -> (4.2532, -20)
  line L6 (4.2532, -20) -> (3.0537, -20.1909)
  line L7 (3.0537, -20.1909) -> (3, -18)
  line L8 (3, -18) -> (6, -19)
  line L9 (6, -19) -> (5.7028, -22.6912)
  line L10 (5.7028, -22.6912) -> (25, -36)
  line L11 (25, -39) -> (25, -36)
  line L12 (6.7281, 29.5792) -> (6.7281, 28.625)
  line L13 (6.7281, 28.625) -> (8.2975, 28.625)
  line L14 (8.2975, 28.625) -> (8.7453, 26.5871)
  line L15 (8.7453, 26.5871) -> (6.7281, 26.5871)
  line L16 (6.7281, 26.5871) -> (6.7281, 25.1274)
  line L17 (6.7281, 25.1274) -> (9.7835, 25.1274)
  line L18 (9.7835, 25.1274) -> (9.4996, 29.1021)
  line L19 (9.4996, 29.1021) -> (31.9548, 38.8479)
  line L20 (31.9548, 41.3881) -> (31.9548, 38.8479)
  point P0 (0, 0)
revolve "Revolution4" add sketch "Sketch71" angle 180 mid plane about axis through (21.3234, 1.813, 0) along (-0.9963, 0.0862, 0)
properties part number "cSkull_meso_WOK_tall_VIS"
